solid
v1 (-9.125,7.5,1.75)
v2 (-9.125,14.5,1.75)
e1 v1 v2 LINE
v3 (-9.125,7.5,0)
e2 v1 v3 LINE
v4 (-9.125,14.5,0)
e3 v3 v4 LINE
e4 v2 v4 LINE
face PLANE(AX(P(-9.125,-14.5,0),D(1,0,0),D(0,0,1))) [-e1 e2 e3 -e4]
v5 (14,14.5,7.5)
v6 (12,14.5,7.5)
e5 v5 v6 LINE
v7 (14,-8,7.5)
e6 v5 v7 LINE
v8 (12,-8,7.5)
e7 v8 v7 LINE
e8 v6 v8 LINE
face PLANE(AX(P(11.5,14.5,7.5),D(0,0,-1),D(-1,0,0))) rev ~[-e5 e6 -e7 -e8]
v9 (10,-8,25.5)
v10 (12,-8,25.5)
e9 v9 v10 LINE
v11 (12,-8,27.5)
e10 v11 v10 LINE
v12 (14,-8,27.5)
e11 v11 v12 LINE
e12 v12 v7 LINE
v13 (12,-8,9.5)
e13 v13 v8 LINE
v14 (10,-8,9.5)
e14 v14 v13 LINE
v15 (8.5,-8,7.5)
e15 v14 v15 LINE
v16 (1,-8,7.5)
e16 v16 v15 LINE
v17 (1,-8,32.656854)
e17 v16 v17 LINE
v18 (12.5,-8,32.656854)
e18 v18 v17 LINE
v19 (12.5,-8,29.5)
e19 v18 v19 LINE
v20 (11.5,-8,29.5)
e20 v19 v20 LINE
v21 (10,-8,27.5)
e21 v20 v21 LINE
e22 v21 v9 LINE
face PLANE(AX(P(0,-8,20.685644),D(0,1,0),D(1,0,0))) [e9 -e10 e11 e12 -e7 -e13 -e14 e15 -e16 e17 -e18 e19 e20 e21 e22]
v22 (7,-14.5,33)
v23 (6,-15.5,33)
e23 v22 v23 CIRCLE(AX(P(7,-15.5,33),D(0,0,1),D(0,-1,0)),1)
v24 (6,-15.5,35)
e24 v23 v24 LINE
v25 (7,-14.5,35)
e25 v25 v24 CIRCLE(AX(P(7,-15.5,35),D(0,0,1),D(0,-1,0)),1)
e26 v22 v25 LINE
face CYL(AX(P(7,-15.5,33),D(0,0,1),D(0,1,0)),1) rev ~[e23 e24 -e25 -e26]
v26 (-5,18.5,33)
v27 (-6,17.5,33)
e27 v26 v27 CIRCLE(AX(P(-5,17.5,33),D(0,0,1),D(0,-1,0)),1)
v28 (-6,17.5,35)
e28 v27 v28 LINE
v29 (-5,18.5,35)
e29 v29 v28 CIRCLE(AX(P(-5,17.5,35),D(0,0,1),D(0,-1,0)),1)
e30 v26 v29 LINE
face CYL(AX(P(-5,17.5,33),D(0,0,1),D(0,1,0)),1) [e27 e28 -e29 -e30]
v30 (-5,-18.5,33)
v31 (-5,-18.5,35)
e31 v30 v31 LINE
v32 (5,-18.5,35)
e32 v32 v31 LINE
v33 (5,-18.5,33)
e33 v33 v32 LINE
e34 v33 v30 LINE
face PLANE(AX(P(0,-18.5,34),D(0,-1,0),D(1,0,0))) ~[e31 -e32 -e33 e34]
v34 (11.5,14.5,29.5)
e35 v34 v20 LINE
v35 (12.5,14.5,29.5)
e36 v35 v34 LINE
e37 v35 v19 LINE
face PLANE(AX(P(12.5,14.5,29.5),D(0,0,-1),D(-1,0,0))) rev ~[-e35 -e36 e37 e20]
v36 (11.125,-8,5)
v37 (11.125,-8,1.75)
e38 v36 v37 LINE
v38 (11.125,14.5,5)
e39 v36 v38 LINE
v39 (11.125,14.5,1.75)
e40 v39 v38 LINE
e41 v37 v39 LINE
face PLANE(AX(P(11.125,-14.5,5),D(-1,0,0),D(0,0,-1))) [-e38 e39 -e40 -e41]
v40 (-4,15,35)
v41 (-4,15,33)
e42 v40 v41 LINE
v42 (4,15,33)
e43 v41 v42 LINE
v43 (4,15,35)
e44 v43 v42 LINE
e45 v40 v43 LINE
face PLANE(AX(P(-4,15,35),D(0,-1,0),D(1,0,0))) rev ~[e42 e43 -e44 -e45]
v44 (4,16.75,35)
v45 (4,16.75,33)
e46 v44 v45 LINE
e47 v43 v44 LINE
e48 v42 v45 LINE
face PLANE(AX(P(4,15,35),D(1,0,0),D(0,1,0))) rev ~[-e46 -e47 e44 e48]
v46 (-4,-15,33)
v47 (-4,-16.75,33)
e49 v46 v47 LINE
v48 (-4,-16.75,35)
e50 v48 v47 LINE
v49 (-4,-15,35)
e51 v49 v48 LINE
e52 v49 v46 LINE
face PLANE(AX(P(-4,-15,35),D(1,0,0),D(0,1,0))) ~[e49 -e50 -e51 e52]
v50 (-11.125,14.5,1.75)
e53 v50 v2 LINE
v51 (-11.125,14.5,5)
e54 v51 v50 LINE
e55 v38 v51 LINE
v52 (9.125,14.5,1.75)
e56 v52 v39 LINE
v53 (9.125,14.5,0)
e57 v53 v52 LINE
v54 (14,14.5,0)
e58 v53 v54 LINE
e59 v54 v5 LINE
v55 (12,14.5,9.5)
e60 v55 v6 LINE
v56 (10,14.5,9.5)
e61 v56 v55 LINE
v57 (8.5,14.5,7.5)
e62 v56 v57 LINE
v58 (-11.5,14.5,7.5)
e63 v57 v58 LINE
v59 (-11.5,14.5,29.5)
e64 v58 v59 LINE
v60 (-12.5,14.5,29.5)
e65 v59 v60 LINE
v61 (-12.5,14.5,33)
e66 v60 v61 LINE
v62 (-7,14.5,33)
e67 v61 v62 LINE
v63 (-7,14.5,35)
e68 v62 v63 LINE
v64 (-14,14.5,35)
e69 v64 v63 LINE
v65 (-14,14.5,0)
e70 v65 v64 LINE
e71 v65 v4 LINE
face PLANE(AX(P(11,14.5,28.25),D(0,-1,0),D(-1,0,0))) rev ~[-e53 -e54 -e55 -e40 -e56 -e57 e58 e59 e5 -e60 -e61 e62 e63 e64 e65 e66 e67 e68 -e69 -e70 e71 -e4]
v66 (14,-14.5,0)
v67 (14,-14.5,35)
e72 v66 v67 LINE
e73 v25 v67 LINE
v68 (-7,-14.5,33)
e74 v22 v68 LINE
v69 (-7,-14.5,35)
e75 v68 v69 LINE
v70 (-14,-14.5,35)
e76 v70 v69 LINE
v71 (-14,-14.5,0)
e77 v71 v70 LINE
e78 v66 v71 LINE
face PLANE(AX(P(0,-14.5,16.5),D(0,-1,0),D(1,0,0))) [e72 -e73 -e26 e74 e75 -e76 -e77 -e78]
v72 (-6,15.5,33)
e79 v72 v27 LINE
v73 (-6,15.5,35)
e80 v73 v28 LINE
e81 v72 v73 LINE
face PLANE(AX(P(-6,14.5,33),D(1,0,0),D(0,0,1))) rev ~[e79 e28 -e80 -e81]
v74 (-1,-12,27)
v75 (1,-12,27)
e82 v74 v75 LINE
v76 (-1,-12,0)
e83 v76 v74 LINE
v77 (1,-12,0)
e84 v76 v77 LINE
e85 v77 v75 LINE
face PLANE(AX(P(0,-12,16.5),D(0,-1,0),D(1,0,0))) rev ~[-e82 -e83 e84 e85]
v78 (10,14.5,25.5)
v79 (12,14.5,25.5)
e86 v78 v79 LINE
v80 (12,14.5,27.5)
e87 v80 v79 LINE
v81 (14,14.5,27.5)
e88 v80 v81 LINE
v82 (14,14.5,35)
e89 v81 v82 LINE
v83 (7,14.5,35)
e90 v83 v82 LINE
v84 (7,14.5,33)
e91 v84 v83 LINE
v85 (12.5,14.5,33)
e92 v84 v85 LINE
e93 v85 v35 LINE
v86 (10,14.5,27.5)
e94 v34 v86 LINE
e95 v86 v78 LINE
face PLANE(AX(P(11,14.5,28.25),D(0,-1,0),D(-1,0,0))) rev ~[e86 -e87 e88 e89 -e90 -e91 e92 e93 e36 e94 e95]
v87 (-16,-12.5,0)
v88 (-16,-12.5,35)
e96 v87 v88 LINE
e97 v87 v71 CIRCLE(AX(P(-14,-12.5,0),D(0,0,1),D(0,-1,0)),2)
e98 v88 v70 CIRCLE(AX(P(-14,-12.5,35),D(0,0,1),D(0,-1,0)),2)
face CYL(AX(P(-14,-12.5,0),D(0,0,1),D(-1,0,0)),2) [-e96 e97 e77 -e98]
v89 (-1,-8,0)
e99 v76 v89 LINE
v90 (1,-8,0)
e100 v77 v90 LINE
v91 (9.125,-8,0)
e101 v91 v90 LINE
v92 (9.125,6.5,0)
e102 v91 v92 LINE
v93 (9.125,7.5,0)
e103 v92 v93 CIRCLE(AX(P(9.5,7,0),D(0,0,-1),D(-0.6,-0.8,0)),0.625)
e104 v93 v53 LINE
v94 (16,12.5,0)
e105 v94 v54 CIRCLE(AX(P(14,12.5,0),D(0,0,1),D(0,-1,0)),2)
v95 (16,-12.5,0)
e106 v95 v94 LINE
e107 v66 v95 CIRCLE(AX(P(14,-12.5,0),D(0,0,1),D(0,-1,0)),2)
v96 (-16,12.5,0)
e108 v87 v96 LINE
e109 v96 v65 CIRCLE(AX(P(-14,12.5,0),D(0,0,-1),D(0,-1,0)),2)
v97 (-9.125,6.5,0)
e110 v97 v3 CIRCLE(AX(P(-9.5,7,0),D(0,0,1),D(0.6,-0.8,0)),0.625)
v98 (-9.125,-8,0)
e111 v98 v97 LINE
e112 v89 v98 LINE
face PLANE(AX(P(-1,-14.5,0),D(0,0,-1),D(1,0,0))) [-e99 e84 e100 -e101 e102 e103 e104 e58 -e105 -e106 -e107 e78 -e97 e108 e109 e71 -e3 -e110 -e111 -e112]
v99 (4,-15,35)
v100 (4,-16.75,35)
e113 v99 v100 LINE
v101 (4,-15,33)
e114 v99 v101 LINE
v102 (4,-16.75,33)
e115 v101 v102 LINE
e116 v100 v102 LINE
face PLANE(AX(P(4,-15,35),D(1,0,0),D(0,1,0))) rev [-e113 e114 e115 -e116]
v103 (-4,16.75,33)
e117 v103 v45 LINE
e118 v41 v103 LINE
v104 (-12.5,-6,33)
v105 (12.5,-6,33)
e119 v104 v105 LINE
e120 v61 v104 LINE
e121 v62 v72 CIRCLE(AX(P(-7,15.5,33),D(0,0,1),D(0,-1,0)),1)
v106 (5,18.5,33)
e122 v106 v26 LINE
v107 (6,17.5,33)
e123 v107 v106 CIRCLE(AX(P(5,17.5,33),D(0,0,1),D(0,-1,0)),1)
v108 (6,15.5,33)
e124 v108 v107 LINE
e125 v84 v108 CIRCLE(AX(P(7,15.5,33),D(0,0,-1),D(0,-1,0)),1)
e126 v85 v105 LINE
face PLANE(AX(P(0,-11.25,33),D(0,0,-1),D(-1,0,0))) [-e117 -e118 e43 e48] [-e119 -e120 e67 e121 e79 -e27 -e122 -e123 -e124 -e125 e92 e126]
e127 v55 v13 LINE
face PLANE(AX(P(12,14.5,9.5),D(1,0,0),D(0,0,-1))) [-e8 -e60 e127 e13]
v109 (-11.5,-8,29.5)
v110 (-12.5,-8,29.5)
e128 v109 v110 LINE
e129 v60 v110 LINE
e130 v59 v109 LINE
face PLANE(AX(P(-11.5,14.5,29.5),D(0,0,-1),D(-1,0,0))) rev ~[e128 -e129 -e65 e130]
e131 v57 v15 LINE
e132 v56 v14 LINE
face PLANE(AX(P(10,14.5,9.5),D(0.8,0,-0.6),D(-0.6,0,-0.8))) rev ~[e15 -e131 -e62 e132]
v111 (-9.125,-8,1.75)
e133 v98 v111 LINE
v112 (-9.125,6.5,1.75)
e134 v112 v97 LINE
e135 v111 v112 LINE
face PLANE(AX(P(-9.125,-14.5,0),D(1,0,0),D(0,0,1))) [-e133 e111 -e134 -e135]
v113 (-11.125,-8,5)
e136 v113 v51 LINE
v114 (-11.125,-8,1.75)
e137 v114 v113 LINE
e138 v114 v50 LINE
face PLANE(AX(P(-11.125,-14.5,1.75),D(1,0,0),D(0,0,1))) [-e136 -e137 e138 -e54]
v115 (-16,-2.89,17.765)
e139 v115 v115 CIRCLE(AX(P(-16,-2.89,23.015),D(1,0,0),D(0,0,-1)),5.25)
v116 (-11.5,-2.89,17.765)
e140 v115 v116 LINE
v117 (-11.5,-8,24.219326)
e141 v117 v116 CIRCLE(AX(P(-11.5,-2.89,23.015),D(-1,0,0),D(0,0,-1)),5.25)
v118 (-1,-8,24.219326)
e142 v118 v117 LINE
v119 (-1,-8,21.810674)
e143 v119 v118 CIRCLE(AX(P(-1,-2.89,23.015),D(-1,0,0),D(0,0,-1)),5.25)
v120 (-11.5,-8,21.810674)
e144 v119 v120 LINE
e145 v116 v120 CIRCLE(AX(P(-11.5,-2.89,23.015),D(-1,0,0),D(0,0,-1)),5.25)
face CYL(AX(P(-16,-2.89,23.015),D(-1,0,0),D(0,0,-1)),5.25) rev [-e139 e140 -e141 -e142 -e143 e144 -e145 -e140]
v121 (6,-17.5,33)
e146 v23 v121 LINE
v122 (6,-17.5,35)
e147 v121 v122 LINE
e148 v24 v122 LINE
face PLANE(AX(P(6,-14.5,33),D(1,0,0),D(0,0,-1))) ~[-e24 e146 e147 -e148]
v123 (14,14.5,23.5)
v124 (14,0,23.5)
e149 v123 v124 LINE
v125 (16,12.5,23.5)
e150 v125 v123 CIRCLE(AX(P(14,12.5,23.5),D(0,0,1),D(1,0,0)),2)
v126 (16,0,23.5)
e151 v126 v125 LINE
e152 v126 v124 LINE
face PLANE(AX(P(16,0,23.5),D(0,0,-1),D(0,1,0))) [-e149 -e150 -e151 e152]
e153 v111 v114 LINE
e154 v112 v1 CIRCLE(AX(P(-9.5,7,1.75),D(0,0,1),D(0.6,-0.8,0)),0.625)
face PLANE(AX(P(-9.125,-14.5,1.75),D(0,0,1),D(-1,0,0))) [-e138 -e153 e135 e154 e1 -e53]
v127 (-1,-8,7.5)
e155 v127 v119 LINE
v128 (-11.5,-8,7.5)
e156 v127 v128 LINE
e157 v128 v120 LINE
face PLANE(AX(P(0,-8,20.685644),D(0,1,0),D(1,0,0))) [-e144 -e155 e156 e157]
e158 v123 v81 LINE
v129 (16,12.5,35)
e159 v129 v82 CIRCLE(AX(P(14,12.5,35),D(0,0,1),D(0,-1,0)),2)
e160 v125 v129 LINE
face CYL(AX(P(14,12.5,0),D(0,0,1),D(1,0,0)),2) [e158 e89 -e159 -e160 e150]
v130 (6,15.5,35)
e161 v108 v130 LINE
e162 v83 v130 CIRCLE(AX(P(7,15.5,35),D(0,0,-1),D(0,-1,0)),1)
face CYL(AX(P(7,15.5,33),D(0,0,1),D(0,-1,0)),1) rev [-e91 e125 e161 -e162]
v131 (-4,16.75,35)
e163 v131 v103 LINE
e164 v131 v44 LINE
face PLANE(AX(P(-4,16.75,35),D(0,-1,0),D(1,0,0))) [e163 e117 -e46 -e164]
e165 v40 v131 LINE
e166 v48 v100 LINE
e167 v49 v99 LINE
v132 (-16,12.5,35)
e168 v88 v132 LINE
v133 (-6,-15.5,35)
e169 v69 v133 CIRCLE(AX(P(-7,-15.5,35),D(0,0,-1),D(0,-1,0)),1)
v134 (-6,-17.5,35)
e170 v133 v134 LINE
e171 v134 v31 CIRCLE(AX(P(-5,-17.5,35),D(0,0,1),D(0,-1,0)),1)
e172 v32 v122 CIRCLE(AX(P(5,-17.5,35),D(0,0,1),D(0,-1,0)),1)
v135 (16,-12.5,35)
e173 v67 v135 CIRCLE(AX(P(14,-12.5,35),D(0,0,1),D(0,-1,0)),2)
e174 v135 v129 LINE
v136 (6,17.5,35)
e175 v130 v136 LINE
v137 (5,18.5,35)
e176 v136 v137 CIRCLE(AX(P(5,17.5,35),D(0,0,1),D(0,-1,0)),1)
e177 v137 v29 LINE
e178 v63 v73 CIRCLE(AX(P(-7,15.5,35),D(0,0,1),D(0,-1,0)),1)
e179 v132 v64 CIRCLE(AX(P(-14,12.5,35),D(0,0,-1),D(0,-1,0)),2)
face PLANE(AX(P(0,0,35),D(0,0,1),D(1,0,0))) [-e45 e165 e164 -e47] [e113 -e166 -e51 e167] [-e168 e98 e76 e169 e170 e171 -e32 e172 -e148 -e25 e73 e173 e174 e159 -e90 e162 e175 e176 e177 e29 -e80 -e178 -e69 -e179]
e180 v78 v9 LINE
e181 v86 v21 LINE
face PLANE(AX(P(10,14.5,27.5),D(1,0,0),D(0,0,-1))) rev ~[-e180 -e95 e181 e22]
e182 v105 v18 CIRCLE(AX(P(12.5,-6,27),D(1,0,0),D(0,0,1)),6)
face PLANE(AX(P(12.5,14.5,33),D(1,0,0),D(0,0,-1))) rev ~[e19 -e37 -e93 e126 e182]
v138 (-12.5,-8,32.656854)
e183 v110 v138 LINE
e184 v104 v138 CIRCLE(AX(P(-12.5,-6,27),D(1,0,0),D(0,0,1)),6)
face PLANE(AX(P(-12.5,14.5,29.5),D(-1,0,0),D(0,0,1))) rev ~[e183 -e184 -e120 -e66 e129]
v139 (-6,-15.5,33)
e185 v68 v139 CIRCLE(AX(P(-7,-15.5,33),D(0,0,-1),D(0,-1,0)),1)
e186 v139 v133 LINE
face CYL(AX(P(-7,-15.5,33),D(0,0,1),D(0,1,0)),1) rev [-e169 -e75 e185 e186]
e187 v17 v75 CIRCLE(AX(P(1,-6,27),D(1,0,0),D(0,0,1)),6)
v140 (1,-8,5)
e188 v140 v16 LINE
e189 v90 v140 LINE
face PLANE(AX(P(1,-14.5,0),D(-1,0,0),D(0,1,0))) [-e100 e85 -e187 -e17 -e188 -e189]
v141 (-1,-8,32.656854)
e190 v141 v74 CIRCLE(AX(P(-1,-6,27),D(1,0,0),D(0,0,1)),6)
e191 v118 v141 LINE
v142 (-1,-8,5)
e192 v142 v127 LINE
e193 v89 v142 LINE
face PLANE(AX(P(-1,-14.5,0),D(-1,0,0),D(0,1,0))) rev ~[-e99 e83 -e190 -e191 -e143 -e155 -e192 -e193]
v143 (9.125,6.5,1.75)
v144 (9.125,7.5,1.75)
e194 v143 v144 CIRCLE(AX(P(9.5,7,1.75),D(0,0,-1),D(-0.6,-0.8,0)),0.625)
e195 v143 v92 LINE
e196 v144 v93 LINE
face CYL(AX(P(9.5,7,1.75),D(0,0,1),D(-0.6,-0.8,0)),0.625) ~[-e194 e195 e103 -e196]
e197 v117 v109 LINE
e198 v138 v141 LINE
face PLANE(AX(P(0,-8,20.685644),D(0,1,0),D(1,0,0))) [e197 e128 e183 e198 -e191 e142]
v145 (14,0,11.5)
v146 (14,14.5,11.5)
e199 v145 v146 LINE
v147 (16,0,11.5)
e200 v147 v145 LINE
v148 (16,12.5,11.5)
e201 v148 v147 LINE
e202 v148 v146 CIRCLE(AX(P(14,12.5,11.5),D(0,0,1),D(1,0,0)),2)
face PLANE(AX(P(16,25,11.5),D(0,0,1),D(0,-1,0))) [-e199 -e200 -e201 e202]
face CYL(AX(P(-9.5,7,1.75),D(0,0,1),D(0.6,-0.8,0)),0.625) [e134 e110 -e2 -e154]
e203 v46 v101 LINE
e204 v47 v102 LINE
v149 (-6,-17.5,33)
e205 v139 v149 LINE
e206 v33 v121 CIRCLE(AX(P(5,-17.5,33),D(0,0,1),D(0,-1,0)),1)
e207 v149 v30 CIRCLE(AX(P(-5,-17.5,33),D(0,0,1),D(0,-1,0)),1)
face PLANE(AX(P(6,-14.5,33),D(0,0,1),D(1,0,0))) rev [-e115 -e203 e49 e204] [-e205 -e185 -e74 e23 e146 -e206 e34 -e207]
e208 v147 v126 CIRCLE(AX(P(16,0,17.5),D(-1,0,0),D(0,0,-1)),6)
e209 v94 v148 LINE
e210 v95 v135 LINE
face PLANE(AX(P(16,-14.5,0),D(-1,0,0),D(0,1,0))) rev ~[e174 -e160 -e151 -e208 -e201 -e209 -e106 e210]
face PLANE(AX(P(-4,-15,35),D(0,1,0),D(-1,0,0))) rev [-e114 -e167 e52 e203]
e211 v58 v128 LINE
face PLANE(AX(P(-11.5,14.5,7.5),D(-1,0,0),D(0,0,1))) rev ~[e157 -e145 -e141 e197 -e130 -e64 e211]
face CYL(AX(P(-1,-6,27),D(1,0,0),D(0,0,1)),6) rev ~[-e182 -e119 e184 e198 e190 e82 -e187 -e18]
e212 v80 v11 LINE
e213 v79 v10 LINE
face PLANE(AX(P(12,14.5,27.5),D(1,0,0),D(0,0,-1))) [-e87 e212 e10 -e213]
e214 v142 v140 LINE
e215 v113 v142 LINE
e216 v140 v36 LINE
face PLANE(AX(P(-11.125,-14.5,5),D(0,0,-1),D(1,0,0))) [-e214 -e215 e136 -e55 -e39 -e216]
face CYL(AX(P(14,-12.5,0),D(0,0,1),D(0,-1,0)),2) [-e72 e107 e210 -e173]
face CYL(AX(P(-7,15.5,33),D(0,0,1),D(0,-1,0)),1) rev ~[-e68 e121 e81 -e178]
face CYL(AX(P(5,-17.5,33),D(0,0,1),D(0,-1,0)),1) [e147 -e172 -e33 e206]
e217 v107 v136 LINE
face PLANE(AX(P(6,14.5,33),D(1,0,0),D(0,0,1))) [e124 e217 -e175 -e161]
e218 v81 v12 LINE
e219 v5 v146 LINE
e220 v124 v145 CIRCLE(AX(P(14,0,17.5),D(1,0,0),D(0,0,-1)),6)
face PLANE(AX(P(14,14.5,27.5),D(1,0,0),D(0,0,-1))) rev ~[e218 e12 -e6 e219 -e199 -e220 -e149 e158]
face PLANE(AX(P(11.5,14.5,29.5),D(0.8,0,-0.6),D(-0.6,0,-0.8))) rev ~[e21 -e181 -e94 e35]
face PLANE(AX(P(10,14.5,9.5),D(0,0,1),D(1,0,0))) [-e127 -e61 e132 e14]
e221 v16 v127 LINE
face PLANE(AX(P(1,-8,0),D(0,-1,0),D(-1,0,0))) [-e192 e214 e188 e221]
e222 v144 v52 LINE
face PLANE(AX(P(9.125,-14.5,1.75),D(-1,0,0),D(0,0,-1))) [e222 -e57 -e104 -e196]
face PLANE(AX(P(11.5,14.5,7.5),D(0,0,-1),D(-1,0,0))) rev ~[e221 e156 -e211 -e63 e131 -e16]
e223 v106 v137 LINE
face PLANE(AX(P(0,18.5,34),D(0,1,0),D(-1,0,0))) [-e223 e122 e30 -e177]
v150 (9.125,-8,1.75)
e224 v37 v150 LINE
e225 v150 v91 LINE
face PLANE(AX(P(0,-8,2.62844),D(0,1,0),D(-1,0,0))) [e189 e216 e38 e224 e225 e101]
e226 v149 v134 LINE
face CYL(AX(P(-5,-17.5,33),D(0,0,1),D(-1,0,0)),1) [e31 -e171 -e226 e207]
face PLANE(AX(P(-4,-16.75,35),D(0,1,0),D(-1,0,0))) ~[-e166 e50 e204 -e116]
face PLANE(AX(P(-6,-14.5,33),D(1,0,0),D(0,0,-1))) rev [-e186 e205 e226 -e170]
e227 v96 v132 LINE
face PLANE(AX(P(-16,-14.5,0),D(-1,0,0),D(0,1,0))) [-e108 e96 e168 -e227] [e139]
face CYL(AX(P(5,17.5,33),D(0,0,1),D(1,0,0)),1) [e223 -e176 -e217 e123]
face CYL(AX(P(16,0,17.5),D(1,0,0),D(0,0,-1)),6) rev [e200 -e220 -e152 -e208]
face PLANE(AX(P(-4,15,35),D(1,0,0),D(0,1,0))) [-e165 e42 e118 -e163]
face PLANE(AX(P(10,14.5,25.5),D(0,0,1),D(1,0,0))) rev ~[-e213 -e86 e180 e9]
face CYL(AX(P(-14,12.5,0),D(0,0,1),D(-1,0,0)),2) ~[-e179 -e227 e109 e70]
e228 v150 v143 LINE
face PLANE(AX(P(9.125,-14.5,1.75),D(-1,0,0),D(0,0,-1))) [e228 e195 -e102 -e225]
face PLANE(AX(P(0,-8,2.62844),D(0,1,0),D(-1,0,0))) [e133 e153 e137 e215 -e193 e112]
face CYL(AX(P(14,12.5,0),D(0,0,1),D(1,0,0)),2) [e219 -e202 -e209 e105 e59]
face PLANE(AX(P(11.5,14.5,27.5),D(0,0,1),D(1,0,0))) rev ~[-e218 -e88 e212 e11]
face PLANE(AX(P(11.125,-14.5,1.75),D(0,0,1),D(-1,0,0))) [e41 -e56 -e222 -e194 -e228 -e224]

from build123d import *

# Parameters (mm, degrees)
SKETCH1_W                         = 32
SKETCH1_H                         = 29
BOSS_EXTRUDE1_DEPTH               = 35
FILLET1_R                         = 2
SLOT_FOR_COIL_DEPTH               = 1
SLOT_FOR_COIL_DEPTH_BACK          = 30
BOSS_EXTRUDE2_DEPTH               = 6.5
BOSS_EXTRUDE3_DEPTH               = 1.75
SKETCH5_W                         = 2
SKETCH5_H                         = 6.5
SLOT_TO_FEED_IN_WIRE_DEPTH        = 33
SLOT_FO_PCB_DEPTH                 = 22.5
SKETCH7_W                         = 2
SKETCH7_H                         = 33
BOSS_EXTRUDE4_DEPTH               = 2.5
FILLET2_R                         = 6
ROD_MOUNT_SLOT_REACH              = 34
SKETCH14_W                        = 2.5
SKETCH14_H                        = 20
SIDE_CAVITY_FOR_MOUNT_PLATE_DEPTH = 22.5
SKETCH16_W                        = 2
SKETCH16_H                        = 2
SIDE_STOPS_FOR_MOUNT_PLATE_DEPTH  = 22.5
BOSS_EXTRUDE6_DEPTH               = 22.5
SKETCH21_W                        = 12
SKETCH21_H                        = 2
BOSS_EXTRUDE7_DEPTH               = 4
SKETCH23_W                        = 8
SKETCH23_H                        = 1.75
CUT_EXTRUDE7_DEPTH                = 2
FILLET3_R                         = 1
CUT_EXTRUDE8_REACH                = 34
SKETCH26_R                        = 5.25


with BuildPart() as part:
    # Sketch1 → Boss-Extrude1 (new body)
    with BuildSketch(Plane.XY):
        Rectangle(SKETCH1_W, SKETCH1_H)
    extrude(amount=BOSS_EXTRUDE1_DEPTH)

    # Fillet1
    fillet1_edges = [part.edges().sort_by_distance(p)[0] for p in [
        (16, -14.5, 17.5),
        (-16, -14.5, 17.5),
        (-16, 14.5, 17.5),
        (16, 14.5, 17.5),
    ]]
    fillet(fillet1_edges, radius=FILLET1_R)

    # Sketch2 → Slot for Coil (cut, two sides)
    with BuildSketch(Plane.XZ.offset(14.5)) as slot_for_coil_sk:
        Polygon((-9.125, 0), (-9.125, 1.75), (-11.125, 1.75), (-11.125, 5), (11.125, 5), (11.125, 1.75), (9.125, 1.75), (9.125, 0), align=None)
    extrude(amount=SLOT_FOR_COIL_DEPTH, mode=Mode.SUBTRACT)
    extrude(slot_for_coil_sk.sketch, amount=-SLOT_FOR_COIL_DEPTH_BACK, mode=Mode.SUBTRACT)

    # Sketch3 → Boss-Extrude2 (add)
    with BuildSketch(Plane.XZ.offset(14.5)):
        Polygon((-9.125, 0), (-9.125, 1.75), (-11.125, 1.75), (-11.125, 5), (11.125, 5), (11.125, 1.75), (9.125, 1.75), (9.125, 0), align=None)
    extrude(amount=-BOSS_EXTRUDE2_DEPTH)

    # Sketch4 → Boss-Extrude3 (add)
    with BuildSketch(Plane(origin=(0, 0, 1.75), x_dir=(-1, 0, 0), z_dir=(0, 0, -1))):
        with BuildLine():
            Line((-9.125, 7.5), (-9.125, 6.5))
            ThreePointArc((-9.125, 6.5), (-8.875, 7), (-9.125, 7.5))
        make_face()
    boss_extrude3 = extrude(amount=BOSS_EXTRUDE3_DEPTH)

    # Mirror1: Boss-Extrude3 across plane
    add(boss_extrude3.mirror(Plane(origin=(0, 0, 0), x_dir=(0, 0, 1), z_dir=(1, 0, 0))))

    # Sketch5 → slot to feed in wire (cut)
    with BuildSketch(Plane(origin=(0, 0, 0), x_dir=(-1, 0, 0), z_dir=(0, 0, -1))):
        with Locations((0, -11.25)):
            Rectangle(SKETCH5_W, SKETCH5_H)
    extrude(amount=-SLOT_TO_FEED_IN_WIRE_DEPTH, mode=Mode.SUBTRACT)

    # Sketch6 → slot fo PCB (cut)
    with BuildSketch(Plane(origin=(0, 14.5, 0), x_dir=(1, 0, 0), z_dir=(0, 1, 0))):
        Polygon((11.5, -7.5), (-11.5, -7.5), (-11.5, -29.5), (-12.5, -29.5), (-12.5, -33), (12.5, -33), (12.5, -29.5), (11.5, -29.5), align=None)
    extrude(amount=-SLOT_FO_PCB_DEPTH, mode=Mode.SUBTRACT)

    # Sketch7 → Boss-Extrude4 (add)
    with BuildSketch(Plane.XZ.offset(14.5)):
        with Locations((0, 16.5)):
            Rectangle(SKETCH7_W, SKETCH7_H)
    extrude(amount=-BOSS_EXTRUDE4_DEPTH)

    # Fillet2
    fillet2_edges = [part.edges().sort_by_distance(p)[0] for p in [
        (0, -12, 33),
    ]]
    fillet(fillet2_edges, radius=FILLET2_R)

    # Sketch11 → Rod Mount Slot (cut, up to next)
    with BuildSketch(Plane(origin=(16, 0, 44), x_dir=(0, 0, -1), z_dir=(1, 0, 0)), mode=Mode.PRIVATE) as rod_mount_slot_sk1:
        with BuildLine():
            Line((32.5, 25), (32.5, 0))
            ThreePointArc((32.5, 0), (26.5, -6), (20.5, 0))
            Line((20.5, 0), (20.5, 25))
            ThreePointArc((20.5, 25), (26.5, 31), (32.5, 25))
        make_face()
    rod_mount_slot_tool1 = extrude(rod_mount_slot_sk1.sketch, amount=-ROD_MOUNT_SLOT_REACH, mode=Mode.PRIVATE) & part.part
    add(rod_mount_slot_tool1.solids().sort_by_distance((16, 12.5, 17.5))[0], mode=Mode.SUBTRACT)

    # Sketch14 → Side cavity for mount plate (cut)
    with BuildSketch(Plane(origin=(0, 14.5, 0), x_dir=(1, 0, 0), z_dir=(0, 1, 0))):
        with Locations((12.75, -17.5)):
            Rectangle(SKETCH14_W, SKETCH14_H)
    extrude(amount=-SIDE_CAVITY_FOR_MOUNT_PLATE_DEPTH, mode=Mode.SUBTRACT)

    # Sketch16 → Side stops for mount plate (add)
    with BuildSketch(Plane(origin=(0, 14.5, 0), x_dir=(1, 0, 0), z_dir=(0, 1, 0))):
        with Locations((11, -8.5)):
            Rectangle(SKETCH16_W, SKETCH16_H)
        with Locations((11, -26.5)):
            Rectangle(SKETCH16_W, SKETCH16_H)
    extrude(amount=-SIDE_STOPS_FOR_MOUNT_PLATE_DEPTH)

    # Sketch20 → Boss-Extrude6 (add)
    with BuildSketch(Plane(origin=(0, 14.5, 0), x_dir=(1, 0, 0), z_dir=(0, 1, 0))):
        Polygon((11.5, -29.5), (10, -27.5), (11.5, -27.5), align=None)
        Polygon((10, -9.5), (8.5, -7.5), (10, -7.5), align=None)
    extrude(amount=-BOSS_EXTRUDE6_DEPTH)

    # Sketch21 → Boss-Extrude7 (add)
    with BuildSketch(Plane(origin=(0, 14.5, 0), x_dir=(-1, 0, 0), z_dir=(0, 1, 0))):
        with Locations((0, 34)):
            Rectangle(SKETCH21_W, SKETCH21_H)
    boss_extrude7 = extrude(amount=BOSS_EXTRUDE7_DEPTH)

    # Sketch23 → Cut-Extrude7 (cut)
    with BuildSketch(Plane.XY.offset(35)):
        with Locations((0, 15.875)):
            Rectangle(SKETCH23_W, SKETCH23_H)
    cut_extrude7 = extrude(amount=-CUT_EXTRUDE7_DEPTH, mode=Mode.SUBTRACT)

    # Mirror3: Boss-Extrude7, Cut-Extrude7 across plane
    add(boss_extrude7.mirror(Plane.ZX))
    add(cut_extrude7.mirror(Plane.ZX), mode=Mode.SUBTRACT)

    # Fillet3
    fillet3_edges = [part.edges().sort_by_distance(p)[0] for p in [
        (6, 14.5, 34),
        (-6, 14.5, 34),
        (6, 18.5, 34),
        (-6, 18.5, 34),
        (6, -18.5, 34),
        (-6, -18.5, 34),
        (6, -14.5, 34),
        (-6, -14.5, 34),
    ]]
    fillet(fillet3_edges, radius=FILLET3_R)

    # Sketch26 → Cut-Extrude8 (cut, up to next)
    with BuildSketch(Plane(origin=(-16, 0, 0), x_dir=(0, 0, -1), z_dir=(1, 0, 0)), mode=Mode.PRIVATE) as cut_extrude8_sk1:
        with Locations((-23.015, -2.89)):
            Circle(SKETCH26_R)
    cut_extrude8_tool1 = extrude(cut_extrude8_sk1.sketch, amount=CUT_EXTRUDE8_REACH, mode=Mode.PRIVATE) & part.part
    add(cut_extrude8_tool1.solids().sort_by_distance((-16, -2.89, 23.015))[0], mode=Mode.SUBTRACT)


solid = part.part
